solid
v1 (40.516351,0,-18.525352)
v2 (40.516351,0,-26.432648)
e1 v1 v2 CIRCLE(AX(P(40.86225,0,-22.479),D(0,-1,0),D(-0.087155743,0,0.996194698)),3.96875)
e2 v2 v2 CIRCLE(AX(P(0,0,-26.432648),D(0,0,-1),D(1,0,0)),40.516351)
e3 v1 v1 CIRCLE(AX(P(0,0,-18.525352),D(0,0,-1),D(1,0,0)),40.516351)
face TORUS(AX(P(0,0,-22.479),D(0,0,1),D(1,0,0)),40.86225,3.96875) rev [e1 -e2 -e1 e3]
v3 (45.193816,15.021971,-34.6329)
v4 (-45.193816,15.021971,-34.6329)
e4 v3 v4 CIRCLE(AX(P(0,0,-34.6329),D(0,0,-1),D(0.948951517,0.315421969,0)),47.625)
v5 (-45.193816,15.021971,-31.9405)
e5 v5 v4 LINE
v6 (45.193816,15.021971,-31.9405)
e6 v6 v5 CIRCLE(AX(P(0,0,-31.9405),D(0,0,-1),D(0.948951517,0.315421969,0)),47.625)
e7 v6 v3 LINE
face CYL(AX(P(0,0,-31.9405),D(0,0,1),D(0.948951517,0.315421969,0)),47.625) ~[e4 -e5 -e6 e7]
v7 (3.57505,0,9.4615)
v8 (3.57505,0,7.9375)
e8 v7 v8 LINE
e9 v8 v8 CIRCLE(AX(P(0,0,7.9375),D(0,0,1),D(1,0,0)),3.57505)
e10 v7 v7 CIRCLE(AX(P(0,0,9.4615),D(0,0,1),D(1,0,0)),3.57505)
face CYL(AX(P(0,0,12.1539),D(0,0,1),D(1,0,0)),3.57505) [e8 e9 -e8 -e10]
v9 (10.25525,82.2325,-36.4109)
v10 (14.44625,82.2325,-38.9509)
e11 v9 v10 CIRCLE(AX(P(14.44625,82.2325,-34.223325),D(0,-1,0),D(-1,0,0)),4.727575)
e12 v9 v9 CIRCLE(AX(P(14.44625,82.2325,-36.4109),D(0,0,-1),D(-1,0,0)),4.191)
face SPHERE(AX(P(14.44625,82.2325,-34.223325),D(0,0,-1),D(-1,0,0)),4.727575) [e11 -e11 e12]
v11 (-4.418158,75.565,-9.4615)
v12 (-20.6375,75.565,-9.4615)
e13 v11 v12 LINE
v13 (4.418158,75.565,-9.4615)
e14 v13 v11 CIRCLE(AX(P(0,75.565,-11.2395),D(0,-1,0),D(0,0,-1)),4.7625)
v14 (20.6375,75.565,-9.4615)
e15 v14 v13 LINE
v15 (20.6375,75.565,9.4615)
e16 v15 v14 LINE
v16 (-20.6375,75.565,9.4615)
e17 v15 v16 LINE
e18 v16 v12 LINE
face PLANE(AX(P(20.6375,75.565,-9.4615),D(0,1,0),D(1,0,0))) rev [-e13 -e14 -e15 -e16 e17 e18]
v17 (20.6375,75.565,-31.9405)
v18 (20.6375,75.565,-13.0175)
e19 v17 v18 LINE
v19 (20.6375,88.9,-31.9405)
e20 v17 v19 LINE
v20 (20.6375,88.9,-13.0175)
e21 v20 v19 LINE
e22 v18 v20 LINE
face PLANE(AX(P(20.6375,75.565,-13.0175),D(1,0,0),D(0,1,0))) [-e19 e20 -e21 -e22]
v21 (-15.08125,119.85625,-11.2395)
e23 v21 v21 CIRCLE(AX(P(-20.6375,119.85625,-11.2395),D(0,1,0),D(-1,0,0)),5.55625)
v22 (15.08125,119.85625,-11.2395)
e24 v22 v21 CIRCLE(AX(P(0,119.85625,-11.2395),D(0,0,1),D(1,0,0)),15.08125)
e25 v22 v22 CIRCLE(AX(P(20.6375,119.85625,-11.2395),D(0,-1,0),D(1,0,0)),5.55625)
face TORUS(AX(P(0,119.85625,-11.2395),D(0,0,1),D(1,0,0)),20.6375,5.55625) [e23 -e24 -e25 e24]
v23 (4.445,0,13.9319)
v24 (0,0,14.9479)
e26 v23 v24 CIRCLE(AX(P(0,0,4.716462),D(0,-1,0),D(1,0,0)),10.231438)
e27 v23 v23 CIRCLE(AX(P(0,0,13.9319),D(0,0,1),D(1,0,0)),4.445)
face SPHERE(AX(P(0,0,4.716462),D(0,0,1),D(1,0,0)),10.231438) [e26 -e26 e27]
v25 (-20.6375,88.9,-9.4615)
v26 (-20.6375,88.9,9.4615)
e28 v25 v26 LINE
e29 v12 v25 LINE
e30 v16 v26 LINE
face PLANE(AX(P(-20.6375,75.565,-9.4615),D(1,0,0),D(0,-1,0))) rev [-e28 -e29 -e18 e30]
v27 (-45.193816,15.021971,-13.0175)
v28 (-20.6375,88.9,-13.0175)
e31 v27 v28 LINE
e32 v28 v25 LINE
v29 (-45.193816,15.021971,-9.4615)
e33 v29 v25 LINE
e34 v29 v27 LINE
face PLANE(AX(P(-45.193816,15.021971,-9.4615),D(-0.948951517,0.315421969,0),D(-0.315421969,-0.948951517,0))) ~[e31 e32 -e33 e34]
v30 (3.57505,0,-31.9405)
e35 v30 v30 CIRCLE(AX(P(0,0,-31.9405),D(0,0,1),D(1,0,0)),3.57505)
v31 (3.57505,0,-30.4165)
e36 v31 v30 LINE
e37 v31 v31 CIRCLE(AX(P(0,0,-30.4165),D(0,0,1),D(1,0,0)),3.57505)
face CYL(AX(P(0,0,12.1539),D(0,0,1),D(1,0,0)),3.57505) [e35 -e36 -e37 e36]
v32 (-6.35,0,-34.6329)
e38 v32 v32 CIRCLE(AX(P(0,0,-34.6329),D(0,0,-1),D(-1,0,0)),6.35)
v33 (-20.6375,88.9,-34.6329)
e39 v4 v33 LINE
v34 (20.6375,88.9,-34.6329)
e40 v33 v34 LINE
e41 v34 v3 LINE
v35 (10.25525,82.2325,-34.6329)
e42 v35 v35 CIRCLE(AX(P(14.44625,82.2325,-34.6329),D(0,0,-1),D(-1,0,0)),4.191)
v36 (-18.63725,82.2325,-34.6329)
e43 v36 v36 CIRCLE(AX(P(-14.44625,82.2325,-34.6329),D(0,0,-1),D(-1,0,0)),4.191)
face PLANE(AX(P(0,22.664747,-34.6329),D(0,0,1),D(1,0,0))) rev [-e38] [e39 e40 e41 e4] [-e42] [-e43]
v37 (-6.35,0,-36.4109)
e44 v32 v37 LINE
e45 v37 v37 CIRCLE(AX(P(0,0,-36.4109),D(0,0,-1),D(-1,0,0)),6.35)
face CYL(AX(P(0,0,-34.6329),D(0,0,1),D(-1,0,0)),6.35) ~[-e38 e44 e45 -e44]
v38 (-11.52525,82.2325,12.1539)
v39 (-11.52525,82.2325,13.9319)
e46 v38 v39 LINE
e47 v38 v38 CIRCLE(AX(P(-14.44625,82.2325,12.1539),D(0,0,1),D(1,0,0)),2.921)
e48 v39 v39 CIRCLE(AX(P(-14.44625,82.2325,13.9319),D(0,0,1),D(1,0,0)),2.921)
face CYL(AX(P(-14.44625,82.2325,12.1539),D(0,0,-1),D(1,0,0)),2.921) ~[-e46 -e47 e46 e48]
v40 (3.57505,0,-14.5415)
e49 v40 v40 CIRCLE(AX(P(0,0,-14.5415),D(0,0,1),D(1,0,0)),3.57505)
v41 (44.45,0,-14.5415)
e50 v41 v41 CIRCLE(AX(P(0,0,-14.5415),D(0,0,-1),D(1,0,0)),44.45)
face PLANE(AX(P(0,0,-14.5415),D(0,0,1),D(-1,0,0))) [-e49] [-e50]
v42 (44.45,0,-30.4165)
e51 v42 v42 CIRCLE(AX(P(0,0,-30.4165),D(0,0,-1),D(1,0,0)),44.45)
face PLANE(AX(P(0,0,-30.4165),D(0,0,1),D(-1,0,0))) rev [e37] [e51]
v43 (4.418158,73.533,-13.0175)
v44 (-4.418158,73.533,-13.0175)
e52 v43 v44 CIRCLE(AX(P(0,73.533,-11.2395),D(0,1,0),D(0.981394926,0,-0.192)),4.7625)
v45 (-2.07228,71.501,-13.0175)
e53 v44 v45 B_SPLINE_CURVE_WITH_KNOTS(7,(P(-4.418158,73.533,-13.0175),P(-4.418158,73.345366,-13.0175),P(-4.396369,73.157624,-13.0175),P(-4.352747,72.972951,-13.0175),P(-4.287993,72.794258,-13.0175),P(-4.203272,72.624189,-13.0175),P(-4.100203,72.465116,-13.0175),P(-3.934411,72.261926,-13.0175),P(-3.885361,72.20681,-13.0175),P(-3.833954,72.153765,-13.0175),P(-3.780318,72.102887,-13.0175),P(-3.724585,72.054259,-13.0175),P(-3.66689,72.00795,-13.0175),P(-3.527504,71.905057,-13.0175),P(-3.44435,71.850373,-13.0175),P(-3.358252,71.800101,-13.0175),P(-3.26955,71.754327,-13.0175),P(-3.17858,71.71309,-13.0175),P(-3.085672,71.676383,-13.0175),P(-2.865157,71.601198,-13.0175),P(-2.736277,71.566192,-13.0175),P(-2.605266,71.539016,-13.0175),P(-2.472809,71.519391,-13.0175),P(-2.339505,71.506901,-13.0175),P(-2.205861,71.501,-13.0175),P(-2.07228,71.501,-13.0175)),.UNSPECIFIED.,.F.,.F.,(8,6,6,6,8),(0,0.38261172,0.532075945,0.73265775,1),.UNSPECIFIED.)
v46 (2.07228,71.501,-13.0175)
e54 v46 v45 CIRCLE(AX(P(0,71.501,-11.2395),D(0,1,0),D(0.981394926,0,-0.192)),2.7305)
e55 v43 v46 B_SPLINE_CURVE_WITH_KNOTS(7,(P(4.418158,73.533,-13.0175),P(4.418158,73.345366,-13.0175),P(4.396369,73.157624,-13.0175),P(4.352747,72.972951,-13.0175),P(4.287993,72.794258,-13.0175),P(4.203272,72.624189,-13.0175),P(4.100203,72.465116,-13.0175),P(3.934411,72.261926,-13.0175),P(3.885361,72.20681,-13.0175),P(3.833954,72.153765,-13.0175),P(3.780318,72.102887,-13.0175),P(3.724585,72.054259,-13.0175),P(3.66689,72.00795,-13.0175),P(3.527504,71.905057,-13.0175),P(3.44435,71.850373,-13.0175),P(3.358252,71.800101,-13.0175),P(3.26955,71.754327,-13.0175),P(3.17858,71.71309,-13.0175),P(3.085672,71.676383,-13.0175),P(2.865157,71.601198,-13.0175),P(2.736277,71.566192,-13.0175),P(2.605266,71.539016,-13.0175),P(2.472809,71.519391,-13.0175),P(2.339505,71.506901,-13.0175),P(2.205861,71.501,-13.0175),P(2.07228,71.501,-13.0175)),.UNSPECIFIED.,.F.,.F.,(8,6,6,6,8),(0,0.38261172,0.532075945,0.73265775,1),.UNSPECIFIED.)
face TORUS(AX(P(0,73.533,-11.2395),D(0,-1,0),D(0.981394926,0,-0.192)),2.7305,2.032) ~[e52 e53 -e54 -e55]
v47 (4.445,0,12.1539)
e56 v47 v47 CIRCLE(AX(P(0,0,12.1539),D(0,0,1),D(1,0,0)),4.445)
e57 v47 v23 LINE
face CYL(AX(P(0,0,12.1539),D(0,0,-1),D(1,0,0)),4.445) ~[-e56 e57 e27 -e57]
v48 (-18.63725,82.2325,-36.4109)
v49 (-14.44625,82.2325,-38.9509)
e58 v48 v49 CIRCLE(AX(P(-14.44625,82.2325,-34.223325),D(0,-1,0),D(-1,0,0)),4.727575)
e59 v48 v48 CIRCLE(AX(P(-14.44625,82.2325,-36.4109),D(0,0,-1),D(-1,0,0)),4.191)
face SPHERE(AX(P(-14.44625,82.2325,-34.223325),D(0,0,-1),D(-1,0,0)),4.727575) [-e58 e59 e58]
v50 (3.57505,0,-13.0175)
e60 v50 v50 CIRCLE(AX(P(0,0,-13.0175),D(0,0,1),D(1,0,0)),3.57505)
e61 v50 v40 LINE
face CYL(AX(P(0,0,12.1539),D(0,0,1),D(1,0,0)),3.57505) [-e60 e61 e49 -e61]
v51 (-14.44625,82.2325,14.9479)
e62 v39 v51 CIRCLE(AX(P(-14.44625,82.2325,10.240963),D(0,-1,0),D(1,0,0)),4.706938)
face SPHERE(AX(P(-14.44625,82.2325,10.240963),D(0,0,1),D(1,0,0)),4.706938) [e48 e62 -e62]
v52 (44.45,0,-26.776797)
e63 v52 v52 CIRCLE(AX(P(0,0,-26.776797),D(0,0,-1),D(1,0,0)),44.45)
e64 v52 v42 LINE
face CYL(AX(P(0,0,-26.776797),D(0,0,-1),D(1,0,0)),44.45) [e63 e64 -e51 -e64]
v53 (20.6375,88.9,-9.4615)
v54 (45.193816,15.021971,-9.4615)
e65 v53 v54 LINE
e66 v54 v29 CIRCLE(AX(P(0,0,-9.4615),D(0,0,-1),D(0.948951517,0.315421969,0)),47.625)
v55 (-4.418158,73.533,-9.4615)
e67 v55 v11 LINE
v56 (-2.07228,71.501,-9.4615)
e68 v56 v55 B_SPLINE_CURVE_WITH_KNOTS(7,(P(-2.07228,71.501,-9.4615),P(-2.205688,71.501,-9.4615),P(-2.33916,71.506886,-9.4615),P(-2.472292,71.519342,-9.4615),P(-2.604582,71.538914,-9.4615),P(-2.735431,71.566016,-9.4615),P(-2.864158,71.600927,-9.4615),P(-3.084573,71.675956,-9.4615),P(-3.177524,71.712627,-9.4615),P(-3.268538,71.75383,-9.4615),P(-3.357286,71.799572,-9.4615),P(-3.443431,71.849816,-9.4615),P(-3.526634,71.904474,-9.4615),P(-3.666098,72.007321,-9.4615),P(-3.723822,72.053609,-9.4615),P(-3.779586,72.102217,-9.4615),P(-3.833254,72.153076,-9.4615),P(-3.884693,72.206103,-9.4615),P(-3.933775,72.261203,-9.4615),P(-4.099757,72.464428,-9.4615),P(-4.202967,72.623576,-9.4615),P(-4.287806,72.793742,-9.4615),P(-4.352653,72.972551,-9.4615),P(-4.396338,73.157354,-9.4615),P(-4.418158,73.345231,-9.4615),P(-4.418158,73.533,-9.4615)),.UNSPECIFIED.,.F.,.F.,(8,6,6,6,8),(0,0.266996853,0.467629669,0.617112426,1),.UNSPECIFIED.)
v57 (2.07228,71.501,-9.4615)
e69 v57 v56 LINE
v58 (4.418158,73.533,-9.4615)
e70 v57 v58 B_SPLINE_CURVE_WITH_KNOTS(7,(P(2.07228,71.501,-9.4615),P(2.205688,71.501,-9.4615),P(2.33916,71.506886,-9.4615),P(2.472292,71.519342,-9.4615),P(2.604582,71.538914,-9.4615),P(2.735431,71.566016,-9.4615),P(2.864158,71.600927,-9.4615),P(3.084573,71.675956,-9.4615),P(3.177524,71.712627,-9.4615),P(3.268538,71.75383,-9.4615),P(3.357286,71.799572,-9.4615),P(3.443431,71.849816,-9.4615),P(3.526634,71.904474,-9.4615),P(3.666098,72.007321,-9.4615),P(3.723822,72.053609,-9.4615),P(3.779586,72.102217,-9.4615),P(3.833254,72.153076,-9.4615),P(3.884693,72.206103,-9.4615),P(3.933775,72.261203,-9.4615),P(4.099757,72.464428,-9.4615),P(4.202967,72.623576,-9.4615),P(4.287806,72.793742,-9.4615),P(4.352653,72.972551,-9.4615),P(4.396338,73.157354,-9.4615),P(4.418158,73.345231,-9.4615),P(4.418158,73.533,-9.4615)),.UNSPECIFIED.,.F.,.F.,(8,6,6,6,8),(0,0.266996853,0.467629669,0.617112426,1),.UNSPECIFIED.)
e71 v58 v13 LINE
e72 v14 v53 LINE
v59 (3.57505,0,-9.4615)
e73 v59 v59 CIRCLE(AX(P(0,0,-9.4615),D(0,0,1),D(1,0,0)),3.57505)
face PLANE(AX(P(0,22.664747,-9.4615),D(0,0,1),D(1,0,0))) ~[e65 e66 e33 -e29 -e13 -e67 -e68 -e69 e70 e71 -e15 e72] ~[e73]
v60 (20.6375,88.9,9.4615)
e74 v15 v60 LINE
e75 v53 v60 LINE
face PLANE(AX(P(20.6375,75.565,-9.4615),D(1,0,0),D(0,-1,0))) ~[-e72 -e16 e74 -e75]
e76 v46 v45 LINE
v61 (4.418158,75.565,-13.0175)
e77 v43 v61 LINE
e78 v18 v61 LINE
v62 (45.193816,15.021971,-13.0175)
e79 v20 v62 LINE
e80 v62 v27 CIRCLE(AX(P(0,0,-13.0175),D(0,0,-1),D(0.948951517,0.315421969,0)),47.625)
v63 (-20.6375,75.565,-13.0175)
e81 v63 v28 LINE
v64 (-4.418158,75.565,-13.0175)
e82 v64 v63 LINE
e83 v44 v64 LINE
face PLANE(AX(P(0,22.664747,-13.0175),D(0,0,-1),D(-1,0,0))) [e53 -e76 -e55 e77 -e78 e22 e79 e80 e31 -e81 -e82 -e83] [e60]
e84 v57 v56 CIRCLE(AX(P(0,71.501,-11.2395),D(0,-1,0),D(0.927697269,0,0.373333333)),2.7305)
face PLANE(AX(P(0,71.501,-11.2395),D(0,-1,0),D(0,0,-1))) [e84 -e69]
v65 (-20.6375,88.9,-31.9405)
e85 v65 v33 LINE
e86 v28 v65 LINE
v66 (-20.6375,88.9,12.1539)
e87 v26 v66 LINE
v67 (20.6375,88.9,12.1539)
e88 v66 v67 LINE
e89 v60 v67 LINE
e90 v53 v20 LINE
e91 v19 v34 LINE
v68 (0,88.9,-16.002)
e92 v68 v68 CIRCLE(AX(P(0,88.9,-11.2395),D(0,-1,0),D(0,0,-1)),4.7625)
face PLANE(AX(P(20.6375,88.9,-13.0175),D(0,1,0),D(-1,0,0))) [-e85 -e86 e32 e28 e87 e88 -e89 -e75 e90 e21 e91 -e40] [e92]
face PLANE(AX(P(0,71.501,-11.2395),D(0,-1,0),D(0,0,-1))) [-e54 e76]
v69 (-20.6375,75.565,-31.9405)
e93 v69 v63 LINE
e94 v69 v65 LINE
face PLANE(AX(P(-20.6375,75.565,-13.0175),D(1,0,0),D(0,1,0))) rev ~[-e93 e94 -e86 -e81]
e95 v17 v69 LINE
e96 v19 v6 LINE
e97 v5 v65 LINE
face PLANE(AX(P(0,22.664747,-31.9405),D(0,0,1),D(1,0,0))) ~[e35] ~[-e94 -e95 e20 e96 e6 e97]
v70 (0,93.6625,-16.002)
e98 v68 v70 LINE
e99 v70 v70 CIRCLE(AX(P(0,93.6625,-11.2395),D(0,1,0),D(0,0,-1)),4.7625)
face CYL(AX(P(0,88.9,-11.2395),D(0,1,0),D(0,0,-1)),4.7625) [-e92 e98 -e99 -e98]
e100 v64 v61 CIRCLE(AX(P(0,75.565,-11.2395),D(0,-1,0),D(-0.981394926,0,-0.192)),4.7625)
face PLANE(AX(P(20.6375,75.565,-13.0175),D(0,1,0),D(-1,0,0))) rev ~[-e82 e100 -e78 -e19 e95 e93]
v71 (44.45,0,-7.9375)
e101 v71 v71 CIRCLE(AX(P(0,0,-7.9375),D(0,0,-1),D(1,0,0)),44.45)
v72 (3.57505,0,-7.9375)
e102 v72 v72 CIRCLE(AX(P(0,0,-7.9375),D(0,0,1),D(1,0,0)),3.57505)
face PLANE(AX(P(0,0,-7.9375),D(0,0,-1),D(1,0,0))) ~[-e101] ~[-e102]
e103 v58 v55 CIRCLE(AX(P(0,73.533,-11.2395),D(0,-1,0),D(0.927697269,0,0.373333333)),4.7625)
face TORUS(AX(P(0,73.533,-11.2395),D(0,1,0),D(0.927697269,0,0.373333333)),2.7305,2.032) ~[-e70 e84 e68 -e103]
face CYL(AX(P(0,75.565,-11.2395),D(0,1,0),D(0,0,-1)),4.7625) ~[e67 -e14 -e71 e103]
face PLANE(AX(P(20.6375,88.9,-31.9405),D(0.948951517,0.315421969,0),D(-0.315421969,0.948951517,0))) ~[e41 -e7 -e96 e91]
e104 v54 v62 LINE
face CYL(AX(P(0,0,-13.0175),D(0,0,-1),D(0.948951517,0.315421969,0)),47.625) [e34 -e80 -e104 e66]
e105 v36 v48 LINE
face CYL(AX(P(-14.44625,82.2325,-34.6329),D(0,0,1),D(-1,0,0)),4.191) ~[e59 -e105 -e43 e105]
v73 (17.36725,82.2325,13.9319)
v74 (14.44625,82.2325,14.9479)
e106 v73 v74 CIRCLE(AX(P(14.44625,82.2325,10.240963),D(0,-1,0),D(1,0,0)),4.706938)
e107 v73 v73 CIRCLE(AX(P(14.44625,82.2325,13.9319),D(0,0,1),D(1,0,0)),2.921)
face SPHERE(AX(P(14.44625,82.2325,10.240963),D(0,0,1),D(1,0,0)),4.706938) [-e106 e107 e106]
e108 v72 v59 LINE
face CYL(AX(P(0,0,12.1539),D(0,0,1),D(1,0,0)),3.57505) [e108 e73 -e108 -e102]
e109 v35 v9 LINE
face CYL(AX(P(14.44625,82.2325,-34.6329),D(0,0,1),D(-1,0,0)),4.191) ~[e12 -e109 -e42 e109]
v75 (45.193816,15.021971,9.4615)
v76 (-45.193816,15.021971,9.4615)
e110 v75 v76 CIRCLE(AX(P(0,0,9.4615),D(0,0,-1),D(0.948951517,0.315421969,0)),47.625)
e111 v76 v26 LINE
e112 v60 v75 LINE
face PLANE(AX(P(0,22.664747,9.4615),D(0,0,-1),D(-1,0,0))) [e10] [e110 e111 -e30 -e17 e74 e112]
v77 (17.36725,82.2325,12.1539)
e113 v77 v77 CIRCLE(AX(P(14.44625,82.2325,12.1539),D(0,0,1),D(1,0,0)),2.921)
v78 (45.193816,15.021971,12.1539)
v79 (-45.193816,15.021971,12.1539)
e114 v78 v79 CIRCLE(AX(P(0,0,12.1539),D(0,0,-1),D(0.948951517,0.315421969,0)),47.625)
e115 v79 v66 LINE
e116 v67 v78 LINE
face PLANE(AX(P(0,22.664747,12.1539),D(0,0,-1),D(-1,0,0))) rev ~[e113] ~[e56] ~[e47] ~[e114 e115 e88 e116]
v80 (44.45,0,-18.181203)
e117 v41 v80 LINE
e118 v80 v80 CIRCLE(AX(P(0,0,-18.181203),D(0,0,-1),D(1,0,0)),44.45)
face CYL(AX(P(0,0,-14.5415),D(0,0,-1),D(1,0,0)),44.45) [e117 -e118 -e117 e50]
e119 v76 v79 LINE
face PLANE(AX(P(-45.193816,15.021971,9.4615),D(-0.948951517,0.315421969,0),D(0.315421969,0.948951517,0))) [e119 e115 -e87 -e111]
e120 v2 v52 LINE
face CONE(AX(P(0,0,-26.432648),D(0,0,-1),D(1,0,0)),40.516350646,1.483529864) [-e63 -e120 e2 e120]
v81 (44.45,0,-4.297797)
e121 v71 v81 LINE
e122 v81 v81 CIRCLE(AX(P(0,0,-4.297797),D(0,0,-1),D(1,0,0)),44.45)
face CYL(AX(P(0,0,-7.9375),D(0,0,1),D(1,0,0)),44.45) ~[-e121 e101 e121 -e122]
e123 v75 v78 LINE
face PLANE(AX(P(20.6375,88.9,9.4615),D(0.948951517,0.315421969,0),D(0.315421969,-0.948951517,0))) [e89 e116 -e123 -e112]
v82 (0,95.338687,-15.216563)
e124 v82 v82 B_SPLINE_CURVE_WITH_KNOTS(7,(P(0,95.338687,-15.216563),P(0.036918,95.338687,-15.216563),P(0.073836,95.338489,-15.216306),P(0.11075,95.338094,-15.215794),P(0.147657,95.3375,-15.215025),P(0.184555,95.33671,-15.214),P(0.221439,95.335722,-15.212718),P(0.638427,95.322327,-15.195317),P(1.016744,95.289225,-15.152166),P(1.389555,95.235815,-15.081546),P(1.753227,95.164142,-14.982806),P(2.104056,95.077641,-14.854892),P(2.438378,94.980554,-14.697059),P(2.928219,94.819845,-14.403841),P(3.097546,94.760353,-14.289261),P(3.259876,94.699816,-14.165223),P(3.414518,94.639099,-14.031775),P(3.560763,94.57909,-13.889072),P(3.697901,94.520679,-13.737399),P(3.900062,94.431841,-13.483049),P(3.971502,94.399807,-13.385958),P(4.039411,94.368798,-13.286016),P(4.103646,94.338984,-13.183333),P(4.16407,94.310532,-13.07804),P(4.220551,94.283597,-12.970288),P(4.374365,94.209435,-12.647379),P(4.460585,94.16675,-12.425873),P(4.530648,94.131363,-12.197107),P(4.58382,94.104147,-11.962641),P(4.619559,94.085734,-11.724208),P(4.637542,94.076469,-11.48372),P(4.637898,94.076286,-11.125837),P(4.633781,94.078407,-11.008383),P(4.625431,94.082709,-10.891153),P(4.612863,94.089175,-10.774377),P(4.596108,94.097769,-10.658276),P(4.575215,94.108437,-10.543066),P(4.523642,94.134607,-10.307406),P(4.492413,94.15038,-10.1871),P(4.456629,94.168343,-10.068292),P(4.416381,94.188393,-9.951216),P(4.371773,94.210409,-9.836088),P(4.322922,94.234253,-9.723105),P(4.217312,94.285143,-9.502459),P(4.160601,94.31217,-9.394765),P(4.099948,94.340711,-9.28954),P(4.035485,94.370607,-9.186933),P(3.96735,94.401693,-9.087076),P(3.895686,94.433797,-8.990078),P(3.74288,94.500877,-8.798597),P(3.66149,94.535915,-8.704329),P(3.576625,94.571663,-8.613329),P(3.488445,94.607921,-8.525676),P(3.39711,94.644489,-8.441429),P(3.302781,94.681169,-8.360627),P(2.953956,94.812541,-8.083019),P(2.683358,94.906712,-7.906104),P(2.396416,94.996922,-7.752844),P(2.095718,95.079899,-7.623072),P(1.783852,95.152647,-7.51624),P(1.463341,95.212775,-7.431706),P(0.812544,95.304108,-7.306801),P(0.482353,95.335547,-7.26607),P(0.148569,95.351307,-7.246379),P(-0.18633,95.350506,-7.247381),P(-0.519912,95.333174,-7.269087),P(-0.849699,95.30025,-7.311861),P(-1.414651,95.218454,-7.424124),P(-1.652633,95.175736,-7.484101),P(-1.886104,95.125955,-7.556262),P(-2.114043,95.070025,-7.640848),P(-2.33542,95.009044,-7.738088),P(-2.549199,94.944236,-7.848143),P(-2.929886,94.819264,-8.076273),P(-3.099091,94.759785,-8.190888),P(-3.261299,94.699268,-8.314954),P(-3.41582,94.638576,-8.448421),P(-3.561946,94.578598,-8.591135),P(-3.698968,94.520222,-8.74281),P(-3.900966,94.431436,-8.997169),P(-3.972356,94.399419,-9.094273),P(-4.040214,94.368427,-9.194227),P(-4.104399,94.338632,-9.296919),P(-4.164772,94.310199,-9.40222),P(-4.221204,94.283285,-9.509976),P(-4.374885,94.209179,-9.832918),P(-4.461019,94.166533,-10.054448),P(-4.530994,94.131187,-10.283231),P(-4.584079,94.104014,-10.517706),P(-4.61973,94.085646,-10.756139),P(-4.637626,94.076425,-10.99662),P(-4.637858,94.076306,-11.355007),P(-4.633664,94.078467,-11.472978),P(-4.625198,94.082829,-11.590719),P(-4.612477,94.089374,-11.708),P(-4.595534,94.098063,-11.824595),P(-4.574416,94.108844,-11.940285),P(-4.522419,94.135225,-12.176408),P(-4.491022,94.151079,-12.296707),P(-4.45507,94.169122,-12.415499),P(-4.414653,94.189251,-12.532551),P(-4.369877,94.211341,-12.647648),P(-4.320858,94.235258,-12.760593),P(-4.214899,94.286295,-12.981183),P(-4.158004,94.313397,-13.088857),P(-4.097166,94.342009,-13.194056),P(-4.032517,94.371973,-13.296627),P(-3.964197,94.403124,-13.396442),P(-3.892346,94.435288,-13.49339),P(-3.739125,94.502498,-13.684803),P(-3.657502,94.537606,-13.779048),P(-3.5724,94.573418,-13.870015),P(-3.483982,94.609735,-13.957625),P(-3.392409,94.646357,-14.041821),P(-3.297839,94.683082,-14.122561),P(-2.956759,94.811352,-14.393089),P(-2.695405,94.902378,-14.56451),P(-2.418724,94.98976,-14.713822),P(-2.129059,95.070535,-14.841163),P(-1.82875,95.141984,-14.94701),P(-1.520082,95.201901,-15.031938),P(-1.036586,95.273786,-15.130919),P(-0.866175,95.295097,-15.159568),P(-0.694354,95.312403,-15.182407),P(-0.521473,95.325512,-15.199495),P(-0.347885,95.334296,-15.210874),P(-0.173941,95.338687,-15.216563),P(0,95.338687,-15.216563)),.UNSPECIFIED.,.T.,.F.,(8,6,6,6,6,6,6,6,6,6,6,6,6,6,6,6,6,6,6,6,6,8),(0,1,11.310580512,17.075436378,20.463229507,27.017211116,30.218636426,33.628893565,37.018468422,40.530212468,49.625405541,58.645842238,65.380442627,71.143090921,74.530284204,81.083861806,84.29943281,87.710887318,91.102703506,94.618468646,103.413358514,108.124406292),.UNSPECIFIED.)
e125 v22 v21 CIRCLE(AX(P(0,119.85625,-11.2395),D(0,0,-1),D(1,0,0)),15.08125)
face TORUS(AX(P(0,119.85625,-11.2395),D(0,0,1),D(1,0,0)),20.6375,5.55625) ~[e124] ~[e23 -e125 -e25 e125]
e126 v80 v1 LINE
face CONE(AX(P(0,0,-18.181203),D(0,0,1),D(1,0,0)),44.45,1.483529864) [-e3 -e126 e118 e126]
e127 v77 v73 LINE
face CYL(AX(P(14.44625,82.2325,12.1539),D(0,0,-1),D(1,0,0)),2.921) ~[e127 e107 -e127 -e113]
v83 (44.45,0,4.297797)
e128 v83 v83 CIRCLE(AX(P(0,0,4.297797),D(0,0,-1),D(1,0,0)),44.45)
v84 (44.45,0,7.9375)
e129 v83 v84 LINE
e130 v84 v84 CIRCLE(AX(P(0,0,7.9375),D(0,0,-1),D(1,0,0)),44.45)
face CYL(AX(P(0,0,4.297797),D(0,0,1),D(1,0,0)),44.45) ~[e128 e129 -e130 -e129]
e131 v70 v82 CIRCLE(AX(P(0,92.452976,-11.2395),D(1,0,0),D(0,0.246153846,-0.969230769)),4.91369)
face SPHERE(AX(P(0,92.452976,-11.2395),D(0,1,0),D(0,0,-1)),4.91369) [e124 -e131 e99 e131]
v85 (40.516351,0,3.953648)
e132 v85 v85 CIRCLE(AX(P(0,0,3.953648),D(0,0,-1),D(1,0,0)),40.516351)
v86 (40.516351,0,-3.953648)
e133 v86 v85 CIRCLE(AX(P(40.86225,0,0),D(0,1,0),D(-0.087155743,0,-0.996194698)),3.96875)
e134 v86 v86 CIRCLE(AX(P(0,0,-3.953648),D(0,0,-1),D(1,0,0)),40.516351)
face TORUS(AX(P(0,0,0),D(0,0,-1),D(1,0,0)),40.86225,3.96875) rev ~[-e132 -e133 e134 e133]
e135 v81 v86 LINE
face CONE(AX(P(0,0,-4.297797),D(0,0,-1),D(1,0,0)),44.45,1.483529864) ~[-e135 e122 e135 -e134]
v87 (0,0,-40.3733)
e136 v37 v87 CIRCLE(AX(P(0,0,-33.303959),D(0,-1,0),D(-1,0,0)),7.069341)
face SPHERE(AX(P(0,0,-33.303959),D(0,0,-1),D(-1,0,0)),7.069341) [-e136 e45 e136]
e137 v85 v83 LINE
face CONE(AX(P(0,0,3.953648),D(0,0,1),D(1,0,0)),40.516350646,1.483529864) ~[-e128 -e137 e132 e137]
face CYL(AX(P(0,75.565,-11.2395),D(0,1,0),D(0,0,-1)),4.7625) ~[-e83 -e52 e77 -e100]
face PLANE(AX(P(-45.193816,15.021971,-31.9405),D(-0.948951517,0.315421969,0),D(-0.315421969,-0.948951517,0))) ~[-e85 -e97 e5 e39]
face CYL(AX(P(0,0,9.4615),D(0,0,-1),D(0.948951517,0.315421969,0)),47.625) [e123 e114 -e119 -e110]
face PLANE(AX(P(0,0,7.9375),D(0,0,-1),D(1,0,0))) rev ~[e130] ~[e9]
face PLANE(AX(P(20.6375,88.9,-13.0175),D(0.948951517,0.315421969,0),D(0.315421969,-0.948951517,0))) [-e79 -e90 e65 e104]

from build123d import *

# Parameters (mm, degrees)
BOSS_EXTRUDE1_DEPTH   = 2.6924
SKETCH5_W             = 41.275
SKETCH5_H             = 13.335
BOSS_EXTRUDE2_DEPTH   = 9.4615
SKETCH10_R            = 5.55625
SKETCH6_R             = 4.445
SKETCH6_R_2           = 2.921
BOSS_EXTRUDE3_DEPTH   = 1.778
DOME1_FACE_RADIUS     = 2.921
DOME1_HEIGHT          = 1.016
DOME3_FACE_RADIUS     = 2.921
DOME3_HEIGHT          = 1.016
DOME8_FACE_RADIUS     = 4.445
DOME8_HEIGHT          = 1.016
SKETCH8_R             = 4.191
BOSS_EXTRUDE4_DEPTH   = 1.778
BOSS_EXTRUDE4_2_DEPTH = 1.778
SKETCH8_R_2           = 6.35
BOSS_EXTRUDE4_3_DEPTH = 1.778
DOME5_FACE_RADIUS     = 4.191
DOME5_HEIGHT          = 2.54
DOME6_FACE_RADIUS     = 4.191
DOME6_HEIGHT          = 2.54
DOME7_FACE_RADIUS     = 6.35
DOME7_HEIGHT          = 3.9624
BOSS_EXTRUDE5_REACH   = 164.351
SKETCH9_R             = 3.57505
SKETCH15_R            = 4.7625
BOSS_EXTRUDE6_DEPTH   = 4.064
FILLET1_R             = 2.032


with BuildPart() as part:
    # Sketch3 → Revolve1 (revolve)
    with BuildSketch(Plane(origin=(0, 0, 0), x_dir=(0, 0, -1), z_dir=(1, 0, 0)), mode=Mode.PRIVATE) as revolve1_sk:
        with BuildLine():
            Line((-7.9375, 44.45), (-7.9375, 0))
            Line((-7.9375, 0), (7.9375, 0))
            Line((7.9375, 0), (7.9375, 44.45))
            Line((7.9375, 44.45), (4.297797433, 44.45))
            Line((4.297797433, 44.45), (3.953647708, 40.516350646))
            ThreePointArc((3.953647708, 40.516350646), (0, 36.8935), (-3.953647708, 40.516350646))
            Line((-3.953647708, 40.516350646), (-4.297797433, 44.45))
            Line((-4.297797433, 44.45), (-7.9375, 44.45))
        make_face()
    revolve(revolve1_sk.sketch.rotate(Axis((0, 0, 7.9375), (0, 0, -1)), 90), axis=Axis((0, 0, 7.9375), (0, 0, -1)))


with BuildPart() as body_2:
    # Sketch4 → Boss-Extrude1 (new body)
    with BuildSketch(Plane.XY.offset(9.4615)):
        with BuildLine():
            Line((-20.6375, 88.9), (20.6375, 88.9))
            Line((20.6375, 88.9), (45.193815989, 15.021971288))
            ThreePointArc((45.193815989, 15.021971288), (0, -47.625), (-45.193815989, 15.021971288))
            Line((-45.193815989, 15.021971288), (-20.6375, 88.9))
        make_face()
    extrude(amount=BOSS_EXTRUDE1_DEPTH)

    # Sketch5 → Boss-Extrude2 (add)
    with BuildSketch(Plane(origin=(0, 0, 9.4615), x_dir=(-1, 0, 0), z_dir=(0, 0, -1))):
        with Locations((0, 82.2325)):
            Rectangle(SKETCH5_W, SKETCH5_H)
    extrude(amount=BOSS_EXTRUDE2_DEPTH)

    # Mirror1: body 2 across plane


with BuildPart() as body_2_1:
    add(body_2.part)
    add(body_2.part.mirror(Plane.XY))


with BuildPart() as body_3:
    # Mirror8: mirrored copy
    add(part.part.mirror(Plane(origin=(0, 0, -11.2395), x_dir=(1, 0, 0), z_dir=(0, 0, -1))))


with BuildPart() as body_4:
    # Mirror8 2: mirrored copy
    add(body_2_1.part.mirror(Plane(origin=(0, 0, -11.2395), x_dir=(1, 0, 0), z_dir=(0, 0, -1))))


with BuildPart() as body_5:
    # Sweep2: sweep along a path in Sketch11
    with BuildLine(Plane.XY.offset(-11.2395)) as sweep2_path:
        ThreePointArc((20.6375, 119.85625), (0, 140.49375), (-20.6375, 119.85625))
    # Sketch10 → Sweep2 (sweep)
    with BuildSketch(Plane(origin=(0, 119.85625, 0), x_dir=(-1, 0, 0), z_dir=(0, 1, 0))):
        with Locations((-20.6375, -11.2395)):
            Circle(SKETCH10_R)
    sweep(path=sweep2_path.line)

    # Mirror7: body 5 across plane


with BuildPart() as body_5_1:
    add(body_5.part)
    add(body_5.part.mirror(Plane(origin=(20.6375, 119.85625, -11.2395), x_dir=(0, 0, 1), z_dir=(0, 1, 0))))

    # Sketch14 → Revolve2 (revolve)
    with BuildSketch(Plane.XY.offset(-11.2395), mode=Mode.PRIVATE) as revolve2_sk:
        with BuildLine():
            Line((4.7625, 88.9), (4.7625, 93.6625))
            ThreePointArc((4.7625, 93.6625), (3.016714146, 96.331608663), (0, 97.366666667))
            Line((0, 97.366666667), (0, 88.9))
            Line((0, 88.9), (4.7625, 88.9))
        make_face()
    revolve(revolve2_sk.sketch.rotate(Axis((0, 53.18125, -11.2395), (0, 1, 0)), 90), axis=Axis((0, 53.18125, -11.2395), (0, 1, 0)))


with BuildPart() as body_2_2:
    add(body_2_1.part)

    # Sketch6 → Boss-Extrude3 (add)
    with BuildSketch(Plane.XY.offset(12.1539)):
        Circle(SKETCH6_R)
        with Locations((-14.44625, 82.2325)):
            Circle(SKETCH6_R_2)
        with Locations((14.44625, 82.2325)):
            Circle(SKETCH6_R_2)
    extrude(amount=BOSS_EXTRUDE3_DEPTH)

    # Dome1: a dome of height H over a round flat face of radius A is a cap of a sphere of radius (A * A + H * H) / (2 * H)
    dome1_r = (DOME1_FACE_RADIUS * DOME1_FACE_RADIUS + DOME1_HEIGHT * DOME1_HEIGHT) / (2 * DOME1_HEIGHT)
    dome1_base = Plane((-14.44625, 82.2325, 13.9319), z_dir=(0, 0, 1))
    with Locations(dome1_base.offset(DOME1_HEIGHT - dome1_r)):
        dome1_ball = Sphere(dome1_r, mode=Mode.PRIVATE)
    add(split(dome1_ball, bisect_by=dome1_base, keep=Keep.TOP, mode=Mode.PRIVATE))

    # Dome3: a dome of height H over a round flat face of radius A is a cap of a sphere of radius (A * A + H * H) / (2 * H)
    dome3_r = (DOME3_FACE_RADIUS * DOME3_FACE_RADIUS + DOME3_HEIGHT * DOME3_HEIGHT) / (2 * DOME3_HEIGHT)
    dome3_base = Plane((14.44625, 82.2325, 13.9319), z_dir=(0, 0, 1))
    with Locations(dome3_base.offset(DOME3_HEIGHT - dome3_r)):
        dome3_ball = Sphere(dome3_r, mode=Mode.PRIVATE)
    add(split(dome3_ball, bisect_by=dome3_base, keep=Keep.TOP, mode=Mode.PRIVATE))

    # Dome8: a dome of height H over a round flat face of radius A is a cap of a sphere of radius (A * A + H * H) / (2 * H)
    dome8_r = (DOME8_FACE_RADIUS * DOME8_FACE_RADIUS + DOME8_HEIGHT * DOME8_HEIGHT) / (2 * DOME8_HEIGHT)
    dome8_base = Plane((0, 0, 13.9319), z_dir=(0, 0, 1))
    with Locations(dome8_base.offset(DOME8_HEIGHT - dome8_r)):
        dome8_ball = Sphere(dome8_r, mode=Mode.PRIVATE)
    add(split(dome8_ball, bisect_by=dome8_base, keep=Keep.TOP, mode=Mode.PRIVATE))


with BuildPart() as body_6:
    # Sketch8 → Boss-Extrude4 (new body)
    with BuildSketch(Plane(origin=(0, 0, -34.6329), x_dir=(-1, 0, 0), z_dir=(0, 0, -1))):
        with Locations((-14.44625, 82.2325)):
            Circle(SKETCH8_R)
    extrude(amount=BOSS_EXTRUDE4_DEPTH)

    # Dome5: a dome of height H over a round flat face of radius A is a cap of a sphere of radius (A * A + H * H) / (2 * H)
    dome5_r = (DOME5_FACE_RADIUS * DOME5_FACE_RADIUS + DOME5_HEIGHT * DOME5_HEIGHT) / (2 * DOME5_HEIGHT)
    dome5_base = Plane((14.44625, 82.2325, -36.4109), z_dir=(0, 0, -1))
    with Locations(dome5_base.offset(DOME5_HEIGHT - dome5_r)):
        dome5_ball = Sphere(dome5_r, mode=Mode.PRIVATE)
    add(split(dome5_ball, bisect_by=dome5_base, keep=Keep.TOP, mode=Mode.PRIVATE))


with BuildPart() as body_7:
    # Sketch8 → Boss-Extrude4 2 (new body)
    with BuildSketch(Plane(origin=(0, 0, -34.6329), x_dir=(-1, 0, 0), z_dir=(0, 0, -1))):
        with Locations((14.44625, 82.2325)):
            Circle(SKETCH8_R)
    extrude(amount=BOSS_EXTRUDE4_2_DEPTH)

    # Dome6: a dome of height H over a round flat face of radius A is a cap of a sphere of radius (A * A + H * H) / (2 * H)
    dome6_r = (DOME6_FACE_RADIUS * DOME6_FACE_RADIUS + DOME6_HEIGHT * DOME6_HEIGHT) / (2 * DOME6_HEIGHT)
    dome6_base = Plane((-14.44625, 82.2325, -36.4109), z_dir=(0, 0, -1))
    with Locations(dome6_base.offset(DOME6_HEIGHT - dome6_r)):
        dome6_ball = Sphere(dome6_r, mode=Mode.PRIVATE)
    add(split(dome6_ball, bisect_by=dome6_base, keep=Keep.TOP, mode=Mode.PRIVATE))


with BuildPart() as body_8:
    # Sketch8 → Boss-Extrude4 3 (new body)
    with BuildSketch(Plane(origin=(0, 0, -34.6329), x_dir=(-1, 0, 0), z_dir=(0, 0, -1))):
        Circle(SKETCH8_R_2)
    extrude(amount=BOSS_EXTRUDE4_3_DEPTH)

    # Dome7: a dome of height H over a round flat face of radius A is a cap of a sphere of radius (A * A + H * H) / (2 * H)
    dome7_r = (DOME7_FACE_RADIUS * DOME7_FACE_RADIUS + DOME7_HEIGHT * DOME7_HEIGHT) / (2 * DOME7_HEIGHT)
    dome7_base = Plane((0, 0, -36.4109), z_dir=(0, 0, -1))
    with Locations(dome7_base.offset(DOME7_HEIGHT - dome7_r)):
        dome7_ball = Sphere(dome7_r, mode=Mode.PRIVATE)
    add(split(dome7_ball, bisect_by=dome7_base, keep=Keep.TOP, mode=Mode.PRIVATE))


with BuildPart() as part_1:
    add(part.part)

    # Boss-Extrude5: up to this face of the body (flat: up to its plane)
    boss_extrude5_end = Plane(body_4.part.faces().sort_by_distance((0, 17.170238389, -34.6329))[0])
    # Sketch9 → Boss-Extrude5 (add, up to the picked face)
    with BuildSketch(Plane.XY.offset(12.1539), mode=Mode.PRIVATE) as boss_extrude5_sk1:
        Circle(SKETCH9_R)
    boss_extrude5_tool1 = split(extrude(boss_extrude5_sk1.sketch, amount=-BOSS_EXTRUDE5_REACH, mode=Mode.PRIVATE), bisect_by=boss_extrude5_end, keep=Keep.BOTH, mode=Mode.PRIVATE)

    add(body_2_2.part)  # Boss-Extrude5 merges body 2
    add(boss_extrude5_tool1.solids().sort_by(Axis((0, 0, 12.1539), (0, 0, -1)))[0])

    # Combine1: union body 5
    add(body_5_1.part)

    # Sketch15 → Boss-Extrude6 (add)
    with BuildSketch(Plane.XZ.offset(-75.565)):
        with Locations(Location((0, -11.2395, 0), (0, 0, 270))):
            Circle(SKETCH15_R)
    extrude(amount=BOSS_EXTRUDE6_DEPTH)

    # Fillet1
    fillet1_edges = [part_1.edges().sort_by_distance(p)[0] for p in [
        (0, 71.501, -6.477),
        (0, 71.501, -16.002),
    ]]
    fillet(fillet1_edges, radius=FILLET1_R)


with BuildPart() as body_3_1:
    add(body_3.part)

    # Combine2: union body 6, body 4, body 7, part, body 8
    add(body_6.part)
    add(body_4.part)
    add(body_7.part)
    add(part_1.part)
    add(body_8.part)


solid = body_3_1.part
